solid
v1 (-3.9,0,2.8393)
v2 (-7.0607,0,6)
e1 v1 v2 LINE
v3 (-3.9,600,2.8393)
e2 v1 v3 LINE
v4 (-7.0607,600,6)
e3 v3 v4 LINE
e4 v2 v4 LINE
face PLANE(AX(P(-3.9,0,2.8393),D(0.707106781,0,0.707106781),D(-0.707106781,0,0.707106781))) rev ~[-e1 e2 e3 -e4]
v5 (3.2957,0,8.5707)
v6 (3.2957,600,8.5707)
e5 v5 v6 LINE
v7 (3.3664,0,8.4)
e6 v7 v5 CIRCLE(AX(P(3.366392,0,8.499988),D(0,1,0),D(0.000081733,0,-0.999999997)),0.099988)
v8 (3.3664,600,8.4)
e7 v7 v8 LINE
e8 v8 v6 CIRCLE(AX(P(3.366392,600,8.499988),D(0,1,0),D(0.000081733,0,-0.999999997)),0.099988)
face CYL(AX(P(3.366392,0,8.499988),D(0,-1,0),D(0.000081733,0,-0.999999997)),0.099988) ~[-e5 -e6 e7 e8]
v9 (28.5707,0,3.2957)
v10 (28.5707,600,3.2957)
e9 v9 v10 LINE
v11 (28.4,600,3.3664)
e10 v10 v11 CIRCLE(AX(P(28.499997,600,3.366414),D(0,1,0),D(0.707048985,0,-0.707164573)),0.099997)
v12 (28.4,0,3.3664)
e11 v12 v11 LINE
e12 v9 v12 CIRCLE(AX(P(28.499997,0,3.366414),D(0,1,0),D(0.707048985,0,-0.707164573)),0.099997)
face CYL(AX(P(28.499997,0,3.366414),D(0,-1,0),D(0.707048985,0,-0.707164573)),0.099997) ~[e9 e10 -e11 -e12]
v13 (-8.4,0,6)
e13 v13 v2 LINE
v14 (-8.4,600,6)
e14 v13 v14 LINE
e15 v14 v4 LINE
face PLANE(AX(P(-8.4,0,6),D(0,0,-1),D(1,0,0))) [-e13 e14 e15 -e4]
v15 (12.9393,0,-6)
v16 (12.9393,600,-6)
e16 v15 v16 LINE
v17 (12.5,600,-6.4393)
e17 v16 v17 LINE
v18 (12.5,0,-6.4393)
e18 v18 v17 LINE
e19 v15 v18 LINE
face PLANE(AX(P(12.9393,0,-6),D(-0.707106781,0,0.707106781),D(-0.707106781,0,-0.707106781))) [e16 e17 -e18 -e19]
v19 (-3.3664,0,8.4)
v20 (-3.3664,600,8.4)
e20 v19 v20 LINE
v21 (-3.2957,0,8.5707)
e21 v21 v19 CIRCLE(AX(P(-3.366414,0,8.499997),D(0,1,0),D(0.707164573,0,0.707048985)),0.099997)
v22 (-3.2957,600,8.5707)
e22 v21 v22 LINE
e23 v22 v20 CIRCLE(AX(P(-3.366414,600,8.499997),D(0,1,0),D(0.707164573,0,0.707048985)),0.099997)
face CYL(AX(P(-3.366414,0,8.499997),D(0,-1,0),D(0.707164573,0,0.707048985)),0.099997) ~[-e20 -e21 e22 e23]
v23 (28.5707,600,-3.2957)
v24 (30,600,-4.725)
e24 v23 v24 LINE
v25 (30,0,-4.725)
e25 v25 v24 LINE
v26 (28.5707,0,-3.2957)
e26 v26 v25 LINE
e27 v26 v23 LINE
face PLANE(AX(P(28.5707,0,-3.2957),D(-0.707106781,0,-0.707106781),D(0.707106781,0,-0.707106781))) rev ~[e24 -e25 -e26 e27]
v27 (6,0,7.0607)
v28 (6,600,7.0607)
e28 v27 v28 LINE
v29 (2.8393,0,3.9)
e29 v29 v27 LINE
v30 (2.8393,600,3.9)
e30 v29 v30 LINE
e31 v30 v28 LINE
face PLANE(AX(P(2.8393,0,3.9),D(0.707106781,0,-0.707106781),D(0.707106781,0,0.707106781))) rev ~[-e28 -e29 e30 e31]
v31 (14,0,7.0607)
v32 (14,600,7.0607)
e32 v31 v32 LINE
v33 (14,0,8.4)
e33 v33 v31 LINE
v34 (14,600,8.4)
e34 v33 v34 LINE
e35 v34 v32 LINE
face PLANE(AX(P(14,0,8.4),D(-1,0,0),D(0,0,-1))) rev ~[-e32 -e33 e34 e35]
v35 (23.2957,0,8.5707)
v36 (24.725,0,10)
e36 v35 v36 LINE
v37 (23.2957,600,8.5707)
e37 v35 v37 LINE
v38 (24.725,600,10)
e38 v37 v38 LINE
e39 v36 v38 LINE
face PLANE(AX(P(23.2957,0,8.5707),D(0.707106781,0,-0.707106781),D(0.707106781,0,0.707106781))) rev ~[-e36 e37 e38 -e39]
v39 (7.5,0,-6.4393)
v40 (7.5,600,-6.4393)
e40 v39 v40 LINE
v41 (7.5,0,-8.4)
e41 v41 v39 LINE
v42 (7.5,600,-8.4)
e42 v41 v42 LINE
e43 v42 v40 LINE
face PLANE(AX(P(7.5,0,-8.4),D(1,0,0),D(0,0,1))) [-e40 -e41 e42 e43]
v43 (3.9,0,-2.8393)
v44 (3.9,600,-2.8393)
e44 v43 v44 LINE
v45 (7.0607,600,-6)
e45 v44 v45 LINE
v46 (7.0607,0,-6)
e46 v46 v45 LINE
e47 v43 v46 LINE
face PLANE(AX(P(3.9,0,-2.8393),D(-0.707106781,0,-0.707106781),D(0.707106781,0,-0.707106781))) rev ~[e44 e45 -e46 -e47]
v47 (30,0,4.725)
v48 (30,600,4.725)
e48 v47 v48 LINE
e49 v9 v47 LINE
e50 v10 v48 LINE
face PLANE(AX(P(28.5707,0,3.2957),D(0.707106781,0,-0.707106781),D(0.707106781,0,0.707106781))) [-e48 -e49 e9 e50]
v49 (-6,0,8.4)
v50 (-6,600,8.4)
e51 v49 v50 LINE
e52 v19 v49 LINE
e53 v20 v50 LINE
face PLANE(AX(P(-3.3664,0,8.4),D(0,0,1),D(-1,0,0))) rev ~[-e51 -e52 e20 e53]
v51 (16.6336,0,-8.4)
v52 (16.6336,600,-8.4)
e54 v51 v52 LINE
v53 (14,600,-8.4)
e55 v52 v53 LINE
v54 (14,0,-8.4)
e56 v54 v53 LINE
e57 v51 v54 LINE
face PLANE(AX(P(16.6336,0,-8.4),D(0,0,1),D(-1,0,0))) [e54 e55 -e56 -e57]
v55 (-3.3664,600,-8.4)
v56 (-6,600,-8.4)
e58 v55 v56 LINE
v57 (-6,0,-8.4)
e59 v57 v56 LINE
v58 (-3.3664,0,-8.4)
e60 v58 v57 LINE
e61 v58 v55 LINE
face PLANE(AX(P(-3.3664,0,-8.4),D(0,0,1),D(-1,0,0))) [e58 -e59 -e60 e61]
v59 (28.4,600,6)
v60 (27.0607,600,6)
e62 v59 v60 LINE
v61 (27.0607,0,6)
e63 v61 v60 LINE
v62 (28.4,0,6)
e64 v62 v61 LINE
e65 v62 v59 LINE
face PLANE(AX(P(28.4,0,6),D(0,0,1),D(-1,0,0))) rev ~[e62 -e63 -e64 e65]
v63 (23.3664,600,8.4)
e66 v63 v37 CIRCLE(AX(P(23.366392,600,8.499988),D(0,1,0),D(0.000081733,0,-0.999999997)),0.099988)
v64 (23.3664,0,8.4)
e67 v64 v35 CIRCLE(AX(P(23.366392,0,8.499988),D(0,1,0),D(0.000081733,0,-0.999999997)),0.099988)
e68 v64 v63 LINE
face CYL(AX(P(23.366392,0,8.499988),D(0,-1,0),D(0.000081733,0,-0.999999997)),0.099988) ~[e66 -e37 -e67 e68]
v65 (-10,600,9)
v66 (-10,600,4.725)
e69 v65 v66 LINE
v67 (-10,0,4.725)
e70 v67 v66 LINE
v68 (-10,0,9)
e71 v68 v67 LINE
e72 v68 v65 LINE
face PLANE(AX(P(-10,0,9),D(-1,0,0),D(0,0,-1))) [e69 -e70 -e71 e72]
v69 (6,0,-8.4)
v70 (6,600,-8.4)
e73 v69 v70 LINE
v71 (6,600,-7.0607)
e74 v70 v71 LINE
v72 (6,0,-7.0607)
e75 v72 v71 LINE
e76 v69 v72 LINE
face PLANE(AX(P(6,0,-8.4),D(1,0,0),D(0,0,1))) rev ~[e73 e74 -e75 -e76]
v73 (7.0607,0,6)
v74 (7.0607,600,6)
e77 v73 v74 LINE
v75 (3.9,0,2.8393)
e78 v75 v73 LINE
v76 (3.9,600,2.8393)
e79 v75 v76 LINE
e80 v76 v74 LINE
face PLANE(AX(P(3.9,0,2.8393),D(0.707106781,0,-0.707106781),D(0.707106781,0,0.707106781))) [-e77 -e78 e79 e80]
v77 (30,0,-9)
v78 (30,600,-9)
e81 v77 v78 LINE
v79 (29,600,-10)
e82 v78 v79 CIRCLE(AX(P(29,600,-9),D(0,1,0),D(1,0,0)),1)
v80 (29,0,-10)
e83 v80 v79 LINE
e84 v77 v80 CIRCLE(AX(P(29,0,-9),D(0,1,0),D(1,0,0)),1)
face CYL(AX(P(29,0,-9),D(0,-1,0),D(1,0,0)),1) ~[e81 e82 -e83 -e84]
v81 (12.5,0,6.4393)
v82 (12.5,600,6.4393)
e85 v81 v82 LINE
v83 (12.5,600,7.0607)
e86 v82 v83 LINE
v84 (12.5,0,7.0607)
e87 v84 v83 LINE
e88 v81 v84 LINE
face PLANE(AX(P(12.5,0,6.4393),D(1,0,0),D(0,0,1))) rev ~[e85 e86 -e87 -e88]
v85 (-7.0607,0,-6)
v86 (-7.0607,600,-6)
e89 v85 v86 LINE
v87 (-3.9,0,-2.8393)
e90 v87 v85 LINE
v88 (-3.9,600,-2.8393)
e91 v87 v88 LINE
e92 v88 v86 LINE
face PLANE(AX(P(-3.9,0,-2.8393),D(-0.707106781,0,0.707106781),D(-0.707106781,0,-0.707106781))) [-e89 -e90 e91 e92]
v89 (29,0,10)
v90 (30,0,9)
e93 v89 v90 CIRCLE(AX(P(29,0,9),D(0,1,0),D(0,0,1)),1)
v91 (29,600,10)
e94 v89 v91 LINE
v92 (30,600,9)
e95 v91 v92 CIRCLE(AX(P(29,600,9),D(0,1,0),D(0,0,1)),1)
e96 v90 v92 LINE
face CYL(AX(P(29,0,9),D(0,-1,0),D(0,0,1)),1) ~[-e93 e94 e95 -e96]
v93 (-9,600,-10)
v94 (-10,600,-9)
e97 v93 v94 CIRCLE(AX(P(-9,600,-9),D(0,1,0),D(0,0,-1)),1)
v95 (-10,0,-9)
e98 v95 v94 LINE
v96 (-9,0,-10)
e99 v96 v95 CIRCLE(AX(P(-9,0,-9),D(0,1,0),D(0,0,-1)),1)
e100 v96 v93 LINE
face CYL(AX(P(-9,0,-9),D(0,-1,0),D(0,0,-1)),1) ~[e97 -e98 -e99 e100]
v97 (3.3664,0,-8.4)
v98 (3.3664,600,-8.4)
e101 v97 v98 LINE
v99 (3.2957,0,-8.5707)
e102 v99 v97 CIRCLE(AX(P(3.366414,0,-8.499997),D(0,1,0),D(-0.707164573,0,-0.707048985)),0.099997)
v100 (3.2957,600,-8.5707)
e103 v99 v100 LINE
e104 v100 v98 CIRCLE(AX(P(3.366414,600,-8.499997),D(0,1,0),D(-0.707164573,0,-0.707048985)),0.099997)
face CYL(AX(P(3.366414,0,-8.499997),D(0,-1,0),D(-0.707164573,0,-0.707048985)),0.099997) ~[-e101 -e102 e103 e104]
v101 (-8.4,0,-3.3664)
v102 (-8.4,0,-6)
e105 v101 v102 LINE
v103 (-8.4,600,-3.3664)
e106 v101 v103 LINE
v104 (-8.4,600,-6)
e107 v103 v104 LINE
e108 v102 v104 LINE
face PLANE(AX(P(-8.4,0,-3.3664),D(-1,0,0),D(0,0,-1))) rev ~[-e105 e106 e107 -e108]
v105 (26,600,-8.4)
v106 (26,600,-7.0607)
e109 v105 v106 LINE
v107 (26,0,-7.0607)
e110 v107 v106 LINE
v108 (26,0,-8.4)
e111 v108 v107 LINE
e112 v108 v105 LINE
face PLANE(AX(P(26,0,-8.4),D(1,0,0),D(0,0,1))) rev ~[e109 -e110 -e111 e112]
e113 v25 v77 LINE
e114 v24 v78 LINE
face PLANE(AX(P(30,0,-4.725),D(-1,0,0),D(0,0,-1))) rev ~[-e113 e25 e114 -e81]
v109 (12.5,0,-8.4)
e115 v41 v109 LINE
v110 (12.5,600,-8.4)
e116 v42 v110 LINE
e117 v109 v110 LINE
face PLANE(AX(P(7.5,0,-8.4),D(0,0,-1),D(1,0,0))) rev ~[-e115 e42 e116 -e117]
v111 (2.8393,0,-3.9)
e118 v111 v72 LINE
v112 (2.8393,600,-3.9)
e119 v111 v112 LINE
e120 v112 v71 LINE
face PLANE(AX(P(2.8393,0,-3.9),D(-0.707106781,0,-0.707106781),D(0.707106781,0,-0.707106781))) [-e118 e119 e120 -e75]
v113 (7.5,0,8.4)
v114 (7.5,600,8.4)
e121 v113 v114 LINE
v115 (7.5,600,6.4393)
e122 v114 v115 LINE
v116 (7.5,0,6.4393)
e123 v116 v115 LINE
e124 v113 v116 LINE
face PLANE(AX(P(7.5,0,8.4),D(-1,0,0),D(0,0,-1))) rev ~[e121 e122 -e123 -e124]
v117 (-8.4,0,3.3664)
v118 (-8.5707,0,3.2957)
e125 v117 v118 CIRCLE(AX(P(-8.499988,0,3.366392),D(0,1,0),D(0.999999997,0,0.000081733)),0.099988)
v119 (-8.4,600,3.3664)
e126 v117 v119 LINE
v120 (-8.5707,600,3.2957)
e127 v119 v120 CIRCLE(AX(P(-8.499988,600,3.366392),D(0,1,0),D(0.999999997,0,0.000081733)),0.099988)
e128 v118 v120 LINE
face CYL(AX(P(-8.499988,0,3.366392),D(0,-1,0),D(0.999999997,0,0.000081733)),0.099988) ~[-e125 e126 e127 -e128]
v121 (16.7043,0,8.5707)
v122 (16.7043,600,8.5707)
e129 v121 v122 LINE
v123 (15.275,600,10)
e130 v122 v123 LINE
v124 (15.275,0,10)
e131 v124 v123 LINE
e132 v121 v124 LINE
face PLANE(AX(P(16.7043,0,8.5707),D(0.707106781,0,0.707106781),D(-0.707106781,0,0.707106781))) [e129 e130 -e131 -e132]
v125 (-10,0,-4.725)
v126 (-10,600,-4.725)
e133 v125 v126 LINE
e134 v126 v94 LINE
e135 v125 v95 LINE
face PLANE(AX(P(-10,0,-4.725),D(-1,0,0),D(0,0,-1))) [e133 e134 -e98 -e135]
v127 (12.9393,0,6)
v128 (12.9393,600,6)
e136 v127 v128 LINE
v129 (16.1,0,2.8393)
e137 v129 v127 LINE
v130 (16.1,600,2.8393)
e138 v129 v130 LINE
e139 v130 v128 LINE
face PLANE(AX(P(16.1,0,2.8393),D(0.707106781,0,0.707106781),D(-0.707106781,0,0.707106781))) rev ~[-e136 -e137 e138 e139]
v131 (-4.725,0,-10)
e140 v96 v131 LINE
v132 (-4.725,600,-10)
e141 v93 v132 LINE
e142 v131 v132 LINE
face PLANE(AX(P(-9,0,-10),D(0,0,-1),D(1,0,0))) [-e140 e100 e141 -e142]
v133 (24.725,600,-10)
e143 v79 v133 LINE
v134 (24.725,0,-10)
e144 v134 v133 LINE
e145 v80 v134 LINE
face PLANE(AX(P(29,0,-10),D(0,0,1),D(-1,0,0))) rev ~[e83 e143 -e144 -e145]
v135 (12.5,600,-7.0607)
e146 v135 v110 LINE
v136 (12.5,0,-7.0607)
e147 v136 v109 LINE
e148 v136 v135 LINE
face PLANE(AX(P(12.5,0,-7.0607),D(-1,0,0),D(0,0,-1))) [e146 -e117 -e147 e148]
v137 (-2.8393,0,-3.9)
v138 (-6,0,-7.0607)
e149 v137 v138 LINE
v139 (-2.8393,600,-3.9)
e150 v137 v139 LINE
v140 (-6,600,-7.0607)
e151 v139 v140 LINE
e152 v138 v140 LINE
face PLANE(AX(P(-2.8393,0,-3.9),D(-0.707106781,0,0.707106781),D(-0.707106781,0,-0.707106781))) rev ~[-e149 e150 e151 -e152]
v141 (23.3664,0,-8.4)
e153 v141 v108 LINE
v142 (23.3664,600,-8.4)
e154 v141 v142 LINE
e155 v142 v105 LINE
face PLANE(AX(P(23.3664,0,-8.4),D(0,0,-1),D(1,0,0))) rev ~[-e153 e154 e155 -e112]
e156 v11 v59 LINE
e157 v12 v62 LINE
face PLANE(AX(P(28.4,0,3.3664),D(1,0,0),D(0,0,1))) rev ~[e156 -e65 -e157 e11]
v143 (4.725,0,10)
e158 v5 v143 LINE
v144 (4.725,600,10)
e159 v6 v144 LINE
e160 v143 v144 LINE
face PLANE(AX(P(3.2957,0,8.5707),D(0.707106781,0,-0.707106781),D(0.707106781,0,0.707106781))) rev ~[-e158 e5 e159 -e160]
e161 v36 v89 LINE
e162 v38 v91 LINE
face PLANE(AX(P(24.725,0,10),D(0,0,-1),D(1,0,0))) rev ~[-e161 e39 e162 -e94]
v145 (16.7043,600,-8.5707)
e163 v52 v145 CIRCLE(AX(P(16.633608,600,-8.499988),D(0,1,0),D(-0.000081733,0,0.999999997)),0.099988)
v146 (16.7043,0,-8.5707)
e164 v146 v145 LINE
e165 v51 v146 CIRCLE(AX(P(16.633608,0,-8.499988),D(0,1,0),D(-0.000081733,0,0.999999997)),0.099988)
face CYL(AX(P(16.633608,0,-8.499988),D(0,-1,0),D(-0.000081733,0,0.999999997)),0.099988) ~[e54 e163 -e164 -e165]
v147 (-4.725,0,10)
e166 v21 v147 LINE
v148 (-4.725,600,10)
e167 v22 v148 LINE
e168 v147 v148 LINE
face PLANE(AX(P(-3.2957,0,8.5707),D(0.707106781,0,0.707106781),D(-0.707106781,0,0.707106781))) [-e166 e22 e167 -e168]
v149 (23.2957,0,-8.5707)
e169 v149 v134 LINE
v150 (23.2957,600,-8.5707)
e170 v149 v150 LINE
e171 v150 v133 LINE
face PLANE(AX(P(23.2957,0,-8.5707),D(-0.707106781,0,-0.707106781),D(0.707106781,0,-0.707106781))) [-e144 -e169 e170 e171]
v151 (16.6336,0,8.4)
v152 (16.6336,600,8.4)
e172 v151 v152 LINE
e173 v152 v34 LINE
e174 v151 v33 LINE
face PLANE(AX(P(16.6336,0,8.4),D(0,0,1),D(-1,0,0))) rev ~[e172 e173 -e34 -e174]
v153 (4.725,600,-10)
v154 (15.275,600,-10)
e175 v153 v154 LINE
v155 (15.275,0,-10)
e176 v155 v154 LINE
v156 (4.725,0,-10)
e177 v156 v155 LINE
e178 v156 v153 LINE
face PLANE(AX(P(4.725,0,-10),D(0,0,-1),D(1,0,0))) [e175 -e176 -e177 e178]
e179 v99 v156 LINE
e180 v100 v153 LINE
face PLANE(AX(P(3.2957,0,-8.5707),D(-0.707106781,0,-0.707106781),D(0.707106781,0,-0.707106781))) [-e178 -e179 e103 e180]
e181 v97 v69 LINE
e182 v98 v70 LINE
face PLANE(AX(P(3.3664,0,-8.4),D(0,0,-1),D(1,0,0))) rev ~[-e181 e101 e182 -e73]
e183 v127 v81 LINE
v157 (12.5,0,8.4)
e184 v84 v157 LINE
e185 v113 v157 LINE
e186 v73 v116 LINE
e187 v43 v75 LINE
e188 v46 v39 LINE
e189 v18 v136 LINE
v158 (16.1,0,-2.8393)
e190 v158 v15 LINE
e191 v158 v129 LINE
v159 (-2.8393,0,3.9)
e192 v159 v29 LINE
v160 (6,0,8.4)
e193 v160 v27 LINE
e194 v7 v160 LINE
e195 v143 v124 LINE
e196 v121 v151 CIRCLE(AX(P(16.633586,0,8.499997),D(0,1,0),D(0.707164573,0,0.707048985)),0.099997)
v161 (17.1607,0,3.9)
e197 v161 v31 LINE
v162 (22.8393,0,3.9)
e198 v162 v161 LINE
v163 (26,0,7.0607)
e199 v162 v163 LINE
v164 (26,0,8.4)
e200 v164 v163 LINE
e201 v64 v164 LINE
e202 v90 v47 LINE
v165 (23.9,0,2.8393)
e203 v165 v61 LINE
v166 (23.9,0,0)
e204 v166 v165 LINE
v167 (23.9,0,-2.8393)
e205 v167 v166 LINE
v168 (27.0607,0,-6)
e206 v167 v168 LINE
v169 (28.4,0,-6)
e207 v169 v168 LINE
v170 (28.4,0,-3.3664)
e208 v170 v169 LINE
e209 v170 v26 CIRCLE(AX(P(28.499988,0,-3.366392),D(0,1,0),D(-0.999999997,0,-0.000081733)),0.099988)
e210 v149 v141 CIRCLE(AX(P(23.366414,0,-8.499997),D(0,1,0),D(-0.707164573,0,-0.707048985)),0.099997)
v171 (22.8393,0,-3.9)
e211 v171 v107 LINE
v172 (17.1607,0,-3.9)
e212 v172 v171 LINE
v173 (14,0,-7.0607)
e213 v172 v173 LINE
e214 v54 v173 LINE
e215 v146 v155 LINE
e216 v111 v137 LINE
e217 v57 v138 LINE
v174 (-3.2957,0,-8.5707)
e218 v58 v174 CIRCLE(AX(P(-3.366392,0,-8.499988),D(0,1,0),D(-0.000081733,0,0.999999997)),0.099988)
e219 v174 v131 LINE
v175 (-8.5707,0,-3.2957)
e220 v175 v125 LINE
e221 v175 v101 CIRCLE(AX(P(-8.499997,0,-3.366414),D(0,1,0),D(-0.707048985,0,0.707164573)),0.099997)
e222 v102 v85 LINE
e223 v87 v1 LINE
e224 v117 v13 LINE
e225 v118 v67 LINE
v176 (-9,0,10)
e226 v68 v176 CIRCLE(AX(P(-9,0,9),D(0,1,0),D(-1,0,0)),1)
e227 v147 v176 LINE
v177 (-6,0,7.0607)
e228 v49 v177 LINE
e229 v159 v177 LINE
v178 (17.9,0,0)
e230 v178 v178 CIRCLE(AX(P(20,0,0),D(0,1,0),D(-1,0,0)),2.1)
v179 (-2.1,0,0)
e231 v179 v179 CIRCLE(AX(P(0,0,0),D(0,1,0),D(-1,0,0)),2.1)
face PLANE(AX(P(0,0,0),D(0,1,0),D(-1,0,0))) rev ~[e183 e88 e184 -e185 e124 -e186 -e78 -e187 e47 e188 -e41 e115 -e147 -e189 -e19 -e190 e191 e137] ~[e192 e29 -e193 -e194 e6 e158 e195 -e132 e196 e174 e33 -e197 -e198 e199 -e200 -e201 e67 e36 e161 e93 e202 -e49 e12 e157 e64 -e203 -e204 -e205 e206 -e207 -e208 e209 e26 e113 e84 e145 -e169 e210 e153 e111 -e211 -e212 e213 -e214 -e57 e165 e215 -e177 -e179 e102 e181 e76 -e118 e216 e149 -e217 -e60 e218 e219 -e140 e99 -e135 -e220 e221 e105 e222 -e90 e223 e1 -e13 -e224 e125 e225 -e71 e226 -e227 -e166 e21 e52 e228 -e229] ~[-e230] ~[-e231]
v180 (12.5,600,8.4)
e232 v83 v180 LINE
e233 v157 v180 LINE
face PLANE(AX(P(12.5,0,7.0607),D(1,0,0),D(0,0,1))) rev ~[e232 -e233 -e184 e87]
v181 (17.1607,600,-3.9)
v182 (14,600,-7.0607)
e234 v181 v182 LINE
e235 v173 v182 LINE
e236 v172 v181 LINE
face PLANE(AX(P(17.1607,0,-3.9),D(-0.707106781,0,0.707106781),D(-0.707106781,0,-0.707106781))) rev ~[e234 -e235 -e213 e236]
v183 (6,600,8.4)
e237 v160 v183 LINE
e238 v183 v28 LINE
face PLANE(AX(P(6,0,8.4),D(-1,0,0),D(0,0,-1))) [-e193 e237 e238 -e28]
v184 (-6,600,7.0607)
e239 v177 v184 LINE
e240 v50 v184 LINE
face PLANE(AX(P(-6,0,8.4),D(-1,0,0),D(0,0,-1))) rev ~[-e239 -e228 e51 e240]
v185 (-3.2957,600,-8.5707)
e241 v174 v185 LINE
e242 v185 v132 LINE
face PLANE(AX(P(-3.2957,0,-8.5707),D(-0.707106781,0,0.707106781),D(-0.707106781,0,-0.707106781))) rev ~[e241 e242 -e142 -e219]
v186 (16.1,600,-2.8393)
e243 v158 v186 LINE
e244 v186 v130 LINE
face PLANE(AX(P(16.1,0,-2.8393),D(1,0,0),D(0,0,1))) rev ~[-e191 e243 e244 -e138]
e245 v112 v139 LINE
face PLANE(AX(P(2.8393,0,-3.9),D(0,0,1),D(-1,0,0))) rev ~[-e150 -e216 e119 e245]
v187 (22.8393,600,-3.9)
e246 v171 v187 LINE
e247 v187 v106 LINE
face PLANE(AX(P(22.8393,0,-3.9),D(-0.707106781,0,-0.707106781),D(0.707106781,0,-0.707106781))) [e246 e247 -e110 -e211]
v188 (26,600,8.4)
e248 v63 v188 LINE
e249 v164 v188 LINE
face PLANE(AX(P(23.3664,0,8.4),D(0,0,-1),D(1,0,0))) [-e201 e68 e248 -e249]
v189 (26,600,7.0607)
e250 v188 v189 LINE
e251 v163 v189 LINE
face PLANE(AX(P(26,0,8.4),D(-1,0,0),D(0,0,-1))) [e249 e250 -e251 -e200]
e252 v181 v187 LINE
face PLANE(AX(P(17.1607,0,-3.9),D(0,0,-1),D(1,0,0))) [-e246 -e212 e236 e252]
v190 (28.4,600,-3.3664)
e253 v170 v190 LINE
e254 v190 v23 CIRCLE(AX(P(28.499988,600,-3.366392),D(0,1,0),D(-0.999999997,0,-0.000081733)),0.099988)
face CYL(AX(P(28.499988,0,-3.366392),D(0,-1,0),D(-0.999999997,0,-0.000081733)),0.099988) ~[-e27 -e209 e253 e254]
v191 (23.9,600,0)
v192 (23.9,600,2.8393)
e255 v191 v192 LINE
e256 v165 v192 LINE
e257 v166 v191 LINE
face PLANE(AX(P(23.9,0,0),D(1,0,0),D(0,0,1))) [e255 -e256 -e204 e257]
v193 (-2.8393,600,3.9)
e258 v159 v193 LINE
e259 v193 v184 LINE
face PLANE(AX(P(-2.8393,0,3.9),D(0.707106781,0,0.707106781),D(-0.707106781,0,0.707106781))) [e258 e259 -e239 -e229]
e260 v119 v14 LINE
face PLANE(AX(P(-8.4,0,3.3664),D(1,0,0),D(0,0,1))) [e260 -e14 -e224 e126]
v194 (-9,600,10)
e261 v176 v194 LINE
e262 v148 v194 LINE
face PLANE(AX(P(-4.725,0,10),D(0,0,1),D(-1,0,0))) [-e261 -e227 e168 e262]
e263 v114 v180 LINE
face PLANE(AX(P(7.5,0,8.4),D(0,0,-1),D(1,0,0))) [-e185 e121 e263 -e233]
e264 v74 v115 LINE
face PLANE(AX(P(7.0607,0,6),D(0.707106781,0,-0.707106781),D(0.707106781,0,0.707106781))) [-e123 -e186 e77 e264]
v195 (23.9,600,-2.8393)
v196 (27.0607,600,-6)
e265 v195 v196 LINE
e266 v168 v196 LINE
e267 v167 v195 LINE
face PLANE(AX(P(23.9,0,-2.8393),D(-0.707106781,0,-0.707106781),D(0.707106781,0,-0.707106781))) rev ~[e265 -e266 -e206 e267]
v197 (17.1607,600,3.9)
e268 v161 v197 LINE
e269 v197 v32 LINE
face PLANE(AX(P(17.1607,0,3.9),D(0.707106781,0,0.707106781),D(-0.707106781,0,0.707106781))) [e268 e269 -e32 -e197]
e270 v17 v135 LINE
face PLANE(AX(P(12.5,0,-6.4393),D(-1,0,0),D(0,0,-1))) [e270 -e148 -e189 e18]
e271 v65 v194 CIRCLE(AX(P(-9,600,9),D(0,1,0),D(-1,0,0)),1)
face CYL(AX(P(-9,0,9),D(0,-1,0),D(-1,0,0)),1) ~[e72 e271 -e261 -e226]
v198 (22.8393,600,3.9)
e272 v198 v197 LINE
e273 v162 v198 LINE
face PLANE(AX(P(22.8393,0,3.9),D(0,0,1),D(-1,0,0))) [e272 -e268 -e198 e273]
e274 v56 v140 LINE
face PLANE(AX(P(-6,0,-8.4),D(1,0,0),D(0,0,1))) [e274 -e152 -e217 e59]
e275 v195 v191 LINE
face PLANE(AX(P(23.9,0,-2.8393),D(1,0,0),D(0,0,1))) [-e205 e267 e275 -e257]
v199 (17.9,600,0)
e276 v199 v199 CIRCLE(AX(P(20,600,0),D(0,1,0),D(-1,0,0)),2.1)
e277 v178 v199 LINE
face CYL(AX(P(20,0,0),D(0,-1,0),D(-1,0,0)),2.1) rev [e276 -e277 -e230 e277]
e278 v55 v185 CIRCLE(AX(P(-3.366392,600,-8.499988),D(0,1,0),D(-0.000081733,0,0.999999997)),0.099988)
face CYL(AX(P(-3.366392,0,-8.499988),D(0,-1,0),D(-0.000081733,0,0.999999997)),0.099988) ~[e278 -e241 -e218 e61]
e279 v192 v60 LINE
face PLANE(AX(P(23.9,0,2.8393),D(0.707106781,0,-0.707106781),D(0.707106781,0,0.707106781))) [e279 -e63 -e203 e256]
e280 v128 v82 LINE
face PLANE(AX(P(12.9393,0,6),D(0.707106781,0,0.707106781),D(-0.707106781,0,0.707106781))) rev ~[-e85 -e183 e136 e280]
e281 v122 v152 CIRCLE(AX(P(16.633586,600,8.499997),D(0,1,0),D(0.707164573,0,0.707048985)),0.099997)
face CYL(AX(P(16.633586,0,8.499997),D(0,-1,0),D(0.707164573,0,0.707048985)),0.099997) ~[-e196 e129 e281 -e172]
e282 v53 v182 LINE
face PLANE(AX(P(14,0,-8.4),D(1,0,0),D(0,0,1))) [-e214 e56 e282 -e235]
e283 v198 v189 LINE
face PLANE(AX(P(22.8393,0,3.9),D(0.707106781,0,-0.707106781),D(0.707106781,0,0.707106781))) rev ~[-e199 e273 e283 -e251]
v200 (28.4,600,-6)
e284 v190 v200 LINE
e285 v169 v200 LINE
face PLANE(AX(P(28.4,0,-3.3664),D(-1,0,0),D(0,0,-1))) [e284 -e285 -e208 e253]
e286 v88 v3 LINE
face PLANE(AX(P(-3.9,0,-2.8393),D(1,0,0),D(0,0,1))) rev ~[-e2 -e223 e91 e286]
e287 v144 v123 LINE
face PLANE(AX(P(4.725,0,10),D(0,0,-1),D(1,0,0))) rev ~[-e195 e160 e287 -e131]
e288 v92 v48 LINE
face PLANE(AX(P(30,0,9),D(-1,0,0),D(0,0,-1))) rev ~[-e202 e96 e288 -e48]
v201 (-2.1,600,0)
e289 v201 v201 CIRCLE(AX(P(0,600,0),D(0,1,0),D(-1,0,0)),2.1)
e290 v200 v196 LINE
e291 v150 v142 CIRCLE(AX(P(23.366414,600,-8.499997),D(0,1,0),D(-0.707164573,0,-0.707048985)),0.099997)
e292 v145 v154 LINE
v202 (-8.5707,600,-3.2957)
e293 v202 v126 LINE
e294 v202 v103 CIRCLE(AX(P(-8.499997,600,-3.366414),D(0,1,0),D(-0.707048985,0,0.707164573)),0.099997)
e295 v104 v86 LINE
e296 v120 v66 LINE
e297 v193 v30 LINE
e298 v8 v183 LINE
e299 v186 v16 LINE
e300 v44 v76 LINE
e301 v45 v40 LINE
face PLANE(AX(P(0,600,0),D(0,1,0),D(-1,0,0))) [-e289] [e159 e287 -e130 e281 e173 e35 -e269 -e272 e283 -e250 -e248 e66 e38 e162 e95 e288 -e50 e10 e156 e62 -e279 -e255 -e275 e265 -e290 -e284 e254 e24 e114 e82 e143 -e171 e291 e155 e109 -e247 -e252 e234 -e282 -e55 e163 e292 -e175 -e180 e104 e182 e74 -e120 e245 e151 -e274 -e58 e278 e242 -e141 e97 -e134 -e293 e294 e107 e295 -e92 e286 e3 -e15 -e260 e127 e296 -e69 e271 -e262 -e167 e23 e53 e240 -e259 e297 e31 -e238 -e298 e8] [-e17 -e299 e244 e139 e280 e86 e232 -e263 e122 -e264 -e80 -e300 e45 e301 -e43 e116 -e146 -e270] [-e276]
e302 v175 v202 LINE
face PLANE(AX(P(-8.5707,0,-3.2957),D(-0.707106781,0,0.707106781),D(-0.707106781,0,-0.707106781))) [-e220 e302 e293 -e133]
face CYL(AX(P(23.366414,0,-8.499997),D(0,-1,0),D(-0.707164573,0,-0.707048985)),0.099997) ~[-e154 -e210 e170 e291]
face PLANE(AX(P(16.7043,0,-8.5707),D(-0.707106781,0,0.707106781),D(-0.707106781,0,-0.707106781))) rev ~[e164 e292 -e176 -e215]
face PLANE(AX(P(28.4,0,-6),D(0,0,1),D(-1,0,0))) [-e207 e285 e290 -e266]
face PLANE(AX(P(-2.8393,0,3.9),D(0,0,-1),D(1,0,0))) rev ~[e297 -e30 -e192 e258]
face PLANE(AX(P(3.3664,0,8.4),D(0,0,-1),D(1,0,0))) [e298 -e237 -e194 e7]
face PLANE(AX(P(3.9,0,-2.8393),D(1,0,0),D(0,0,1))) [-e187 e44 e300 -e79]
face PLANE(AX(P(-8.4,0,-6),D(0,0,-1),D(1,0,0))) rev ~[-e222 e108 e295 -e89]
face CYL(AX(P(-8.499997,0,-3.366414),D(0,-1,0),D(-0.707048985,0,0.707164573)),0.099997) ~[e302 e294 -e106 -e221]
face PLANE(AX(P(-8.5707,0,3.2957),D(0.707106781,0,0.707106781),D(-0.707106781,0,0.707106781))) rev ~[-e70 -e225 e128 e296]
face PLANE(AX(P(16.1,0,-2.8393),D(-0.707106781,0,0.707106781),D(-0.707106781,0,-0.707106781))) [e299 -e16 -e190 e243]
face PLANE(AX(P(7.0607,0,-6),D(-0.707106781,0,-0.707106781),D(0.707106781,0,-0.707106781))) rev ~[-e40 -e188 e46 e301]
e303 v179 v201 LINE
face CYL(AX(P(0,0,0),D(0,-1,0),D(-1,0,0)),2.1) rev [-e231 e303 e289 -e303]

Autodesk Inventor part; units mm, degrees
ref_plane "YZ Plane" through (0, 0, 0) normal (1, 0, 0) x (0, 1, 0)
ref_plane "XZ Plane" through (0, 0, 0) normal (0, 1, 0) x (-1, 0, 0)
ref_plane "XY Plane" through (0, 0, 0) normal (0, 0, 1) x (1, 0, 0)
sketch "Sketch1" plane through (0, 0, 0) normal (0, 1, 0) x (-1, 0, 0)
  line L0 (3.9, -2.8393) -> (3.9, 2.8393)
  line L1 (2.8393, 3.9) -> (-2.8393, 3.9)
  line L2 (-2.8393, -3.9) -> (2.8393, -3.9)
  line L3 (8.5707, 3.2957) -> (10, 4.725)
  line L4 (8.5707, -3.2957) -> (10, -4.725)
  line L5 (8.4, 3.3664) -> (8.4, 6)
  line L6 (8.4, 6) -> (7.0607, 6)
  line L7 (10, 9) -> (10, 4.725)
  line L8 (10, -4.725) -> (10, -9)
  line L9 (3.9, 2.8393) -> (7.0607, 6)
  line L10 (3.2957, 8.5707) -> (4.725, 10)
  line L11 (3.3664, 8.4) -> (6, 8.4)
  line L12 (6, 8.4) -> (6, 7.0607)
  line L13 (2.8393, 3.9) -> (6, 7.0607)
  line L14 (8.4, -3.3664) -> (8.4, -6)
  line L15 (8.4, -6) -> (7.0607, -6)
  line L16 (3.9, -2.8393) -> (7.0607, -6)
  line L17 (3.2957, -8.5707) -> (4.725, -10)
  line L18 (3.3664, -8.4) -> (6, -8.4)
  line L19 (6, -8.4) -> (6, -7.0607)
  line L20 (2.8393, -3.9) -> (6, -7.0607)
  line L21 (-3.9, -2.8393) -> (-3.9, 2.8393)
  line L22 (-3.9, 2.8393) -> (-7.0607, 6)
  line L23 (-6, 8.4) -> (-6, 7.0607)
  line L24 (-2.8393, 3.9) -> (-6, 7.0607)
  line L25 (-3.9, -2.8393) -> (-7.0607, -6)
  line L26 (-2.8393, -3.9) -> (-6, -7.0607)
  line L27 (-6, -8.4) -> (-6, -7.0607)
  line L28 (-3.3664, -8.4) -> (-6, -8.4)
  line L29 (-3.2957, -8.5707) -> (-4.725, -10)
  line L30 (4.725, 10) -> (9, 10)
  line L31 (9, -10) -> (4.725, -10)
  circle A0 centre (0, 0) radius 2.1
  arc A1 (10, 9) -> (9, 10) centre (9, 9) ccw
  arc A2 (9, -10) -> (10, -9) centre (9, -9) ccw
  arc A3 (8.4, 3.3664) -> (8.5707, 3.2957) centre (8.5, 3.3664) ccw
  arc A4 (3.2957, 8.5707) -> (3.3664, 8.4) centre (3.3664, 8.5) ccw
  arc A5 (8.5707, -3.2957) -> (8.4, -3.3664) centre (8.5, -3.3664) ccw
  arc A6 (3.3664, -8.4) -> (3.2957, -8.5707) centre (3.3664, -8.5) ccw
  arc A7 (-3.2957, -8.5707) -> (-3.3664, -8.4) centre (-3.3664, -8.5) ccw
  line L32 (-23.9, -2.8393) -> (-23.9, 2.8393)
  line L33 (-22.8393, 3.9) -> (-17.1607, 3.9)
  line L34 (-17.1607, -3.9) -> (-22.8393, -3.9)
  line L35 (-28.5707, 3.2957) -> (-30, 4.725)
  line L36 (-28.5707, -3.2957) -> (-30, -4.725)
  line L37 (-28.4, 3.3664) -> (-28.4, 6)
  line L38 (-28.4, 6) -> (-27.0607, 6)
  line L39 (-30, 9) -> (-30, 4.725)
  line L40 (-30, -4.725) -> (-30, -9)
  line L41 (-23.9, 2.8393) -> (-27.0607, 6)
  line L42 (-23.2957, 8.5707) -> (-24.725, 10)
  line L43 (-23.3664, 8.4) -> (-26, 8.4)
  line L44 (-26, 8.4) -> (-26, 7.0607)
  line L45 (-22.8393, 3.9) -> (-26, 7.0607)
  line L46 (-23.9, 0) -> (-28.4, 0)
  line L47 (-23.9, -2.8393) -> (-27.0607, -6)
  line L48 (-28.4, -6) -> (-27.0607, -6)
  line L49 (-28.4, -3.3664) -> (-28.4, -6)
  line L50 (-22.8393, -3.9) -> (-26, -7.0607)
  line L51 (-26, -8.4) -> (-26, -7.0607)
  line L52 (-23.3664, -8.4) -> (-26, -8.4)
  line L53 (-23.2957, -8.5707) -> (-24.725, -10)
  line L54 (-16.1, -2.8393) -> (-12.9393, -6)
  line L55 (-17.1607, -3.9) -> (-14, -7.0607)
  line L56 (-16.6336, -8.4) -> (-14, -8.4)
  line L57 (-16.1, -2.8393) -> (-16.1, 2.8393)
  line L58 (-16.1, 2.8393) -> (-12.9393, 6)
  line L59 (-17.1607, 3.9) -> (-14, 7.0607)
  line L60 (-14, 8.4) -> (-14, 7.0607)
  line L61 (-14, -8.4) -> (-14, -7.0607)
  line L62 (-16.7043, -8.5707) -> (-15.275, -10)
  line L63 (-24.725, 10) -> (-29, 10)
  line L64 (-29, -10) -> (-24.725, -10)
  circle A8 centre (-20, 0) radius 2.1
  arc A9 (-29, 10) -> (-30, 9) centre (-29, 9) ccw
  arc A10 (-30, -9) -> (-29, -10) centre (-29, -9) ccw
  arc A11 (-28.5707, 3.2957) -> (-28.4, 3.3664) centre (-28.5, 3.3664) ccw
  arc A12 (-23.3664, 8.4) -> (-23.2957, 8.5707) centre (-23.3664, 8.5) ccw
  arc A13 (-28.4, -3.3664) -> (-28.5707, -3.2957) centre (-28.5, -3.3664) ccw
  arc A14 (-23.2957, -8.5707) -> (-23.3664, -8.4) centre (-23.3664, -8.5) ccw
  arc A15 (-16.6336, -8.4) -> (-16.7043, -8.5707) centre (-16.6336, -8.5) ccw
  arc A16 (-16.7043, 8.5707) -> (-16.6336, 8.4) centre (-16.6336, 8.5) ccw
  line L65 (-7.5, -8.4) -> (-7.5, -6.4393)
  line L66 (-7.0607, -6) -> (-7.5, -6.4393)
  line L67 (-12.5, -7.0607) -> (-12.5, -8.4)
  line L68 (-12.9393, -6) -> (-12.5, -6.4393)
  line L69 (-12.5, -6.4393) -> (-12.5, -7.0607)
  line L70 (-7.5, -8.4) -> (-12.5, -8.4)
  line L71 (-4.725, -10) -> (-15.275, -10)
  line L72 (-3.9, 2.8393) -> (-7.0607, 6)
  line L73 (-2.8393, 3.9) -> (-6, 7.0607)
  line L74 (-3.3664, 8.4) -> (-6, 8.4)
  line L75 (-6, 8.4) -> (-6, 7.0607)
  line L76 (-3.2957, 8.5707) -> (-4.725, 10)
  arc A17 (-3.3664, 8.4) -> (-3.2957, 8.5707) centre (-3.3664, 8.5) ccw
  line L77 (-16.1, 2.8393) -> (-12.9393, 6)
  line L78 (-17.1607, 3.9) -> (-14, 7.0607)
  line L79 (-16.6336, 8.4) -> (-14, 8.4)
  line L80 (-14, 8.4) -> (-14, 7.0607)
  line L81 (-16.7043, 8.5707) -> (-15.275, 10)
  arc A18 (-16.7043, 8.5707) -> (-16.6336, 8.4) centre (-16.6336, 8.5) ccw
  line L82 (-7.5, 8.4) -> (-7.5, 6.4393)
  line L83 (-7.0607, 6) -> (-7.5, 6.4393)
  line L84 (-12.5, 7.0607) -> (-12.5, 8.4)
  line L85 (-12.9393, 6) -> (-12.5, 6.4393)
  line L86 (-12.5, 6.4393) -> (-12.5, 7.0607)
  line L87 (-7.5, 8.4) -> (-12.5, 8.4)
  line L88 (-4.725, 10) -> (-15.275, 10)
extrude "Extrusion1" add sketch "Sketch1" along normal blind 600
properties part number "VSLOT20x40x600"
